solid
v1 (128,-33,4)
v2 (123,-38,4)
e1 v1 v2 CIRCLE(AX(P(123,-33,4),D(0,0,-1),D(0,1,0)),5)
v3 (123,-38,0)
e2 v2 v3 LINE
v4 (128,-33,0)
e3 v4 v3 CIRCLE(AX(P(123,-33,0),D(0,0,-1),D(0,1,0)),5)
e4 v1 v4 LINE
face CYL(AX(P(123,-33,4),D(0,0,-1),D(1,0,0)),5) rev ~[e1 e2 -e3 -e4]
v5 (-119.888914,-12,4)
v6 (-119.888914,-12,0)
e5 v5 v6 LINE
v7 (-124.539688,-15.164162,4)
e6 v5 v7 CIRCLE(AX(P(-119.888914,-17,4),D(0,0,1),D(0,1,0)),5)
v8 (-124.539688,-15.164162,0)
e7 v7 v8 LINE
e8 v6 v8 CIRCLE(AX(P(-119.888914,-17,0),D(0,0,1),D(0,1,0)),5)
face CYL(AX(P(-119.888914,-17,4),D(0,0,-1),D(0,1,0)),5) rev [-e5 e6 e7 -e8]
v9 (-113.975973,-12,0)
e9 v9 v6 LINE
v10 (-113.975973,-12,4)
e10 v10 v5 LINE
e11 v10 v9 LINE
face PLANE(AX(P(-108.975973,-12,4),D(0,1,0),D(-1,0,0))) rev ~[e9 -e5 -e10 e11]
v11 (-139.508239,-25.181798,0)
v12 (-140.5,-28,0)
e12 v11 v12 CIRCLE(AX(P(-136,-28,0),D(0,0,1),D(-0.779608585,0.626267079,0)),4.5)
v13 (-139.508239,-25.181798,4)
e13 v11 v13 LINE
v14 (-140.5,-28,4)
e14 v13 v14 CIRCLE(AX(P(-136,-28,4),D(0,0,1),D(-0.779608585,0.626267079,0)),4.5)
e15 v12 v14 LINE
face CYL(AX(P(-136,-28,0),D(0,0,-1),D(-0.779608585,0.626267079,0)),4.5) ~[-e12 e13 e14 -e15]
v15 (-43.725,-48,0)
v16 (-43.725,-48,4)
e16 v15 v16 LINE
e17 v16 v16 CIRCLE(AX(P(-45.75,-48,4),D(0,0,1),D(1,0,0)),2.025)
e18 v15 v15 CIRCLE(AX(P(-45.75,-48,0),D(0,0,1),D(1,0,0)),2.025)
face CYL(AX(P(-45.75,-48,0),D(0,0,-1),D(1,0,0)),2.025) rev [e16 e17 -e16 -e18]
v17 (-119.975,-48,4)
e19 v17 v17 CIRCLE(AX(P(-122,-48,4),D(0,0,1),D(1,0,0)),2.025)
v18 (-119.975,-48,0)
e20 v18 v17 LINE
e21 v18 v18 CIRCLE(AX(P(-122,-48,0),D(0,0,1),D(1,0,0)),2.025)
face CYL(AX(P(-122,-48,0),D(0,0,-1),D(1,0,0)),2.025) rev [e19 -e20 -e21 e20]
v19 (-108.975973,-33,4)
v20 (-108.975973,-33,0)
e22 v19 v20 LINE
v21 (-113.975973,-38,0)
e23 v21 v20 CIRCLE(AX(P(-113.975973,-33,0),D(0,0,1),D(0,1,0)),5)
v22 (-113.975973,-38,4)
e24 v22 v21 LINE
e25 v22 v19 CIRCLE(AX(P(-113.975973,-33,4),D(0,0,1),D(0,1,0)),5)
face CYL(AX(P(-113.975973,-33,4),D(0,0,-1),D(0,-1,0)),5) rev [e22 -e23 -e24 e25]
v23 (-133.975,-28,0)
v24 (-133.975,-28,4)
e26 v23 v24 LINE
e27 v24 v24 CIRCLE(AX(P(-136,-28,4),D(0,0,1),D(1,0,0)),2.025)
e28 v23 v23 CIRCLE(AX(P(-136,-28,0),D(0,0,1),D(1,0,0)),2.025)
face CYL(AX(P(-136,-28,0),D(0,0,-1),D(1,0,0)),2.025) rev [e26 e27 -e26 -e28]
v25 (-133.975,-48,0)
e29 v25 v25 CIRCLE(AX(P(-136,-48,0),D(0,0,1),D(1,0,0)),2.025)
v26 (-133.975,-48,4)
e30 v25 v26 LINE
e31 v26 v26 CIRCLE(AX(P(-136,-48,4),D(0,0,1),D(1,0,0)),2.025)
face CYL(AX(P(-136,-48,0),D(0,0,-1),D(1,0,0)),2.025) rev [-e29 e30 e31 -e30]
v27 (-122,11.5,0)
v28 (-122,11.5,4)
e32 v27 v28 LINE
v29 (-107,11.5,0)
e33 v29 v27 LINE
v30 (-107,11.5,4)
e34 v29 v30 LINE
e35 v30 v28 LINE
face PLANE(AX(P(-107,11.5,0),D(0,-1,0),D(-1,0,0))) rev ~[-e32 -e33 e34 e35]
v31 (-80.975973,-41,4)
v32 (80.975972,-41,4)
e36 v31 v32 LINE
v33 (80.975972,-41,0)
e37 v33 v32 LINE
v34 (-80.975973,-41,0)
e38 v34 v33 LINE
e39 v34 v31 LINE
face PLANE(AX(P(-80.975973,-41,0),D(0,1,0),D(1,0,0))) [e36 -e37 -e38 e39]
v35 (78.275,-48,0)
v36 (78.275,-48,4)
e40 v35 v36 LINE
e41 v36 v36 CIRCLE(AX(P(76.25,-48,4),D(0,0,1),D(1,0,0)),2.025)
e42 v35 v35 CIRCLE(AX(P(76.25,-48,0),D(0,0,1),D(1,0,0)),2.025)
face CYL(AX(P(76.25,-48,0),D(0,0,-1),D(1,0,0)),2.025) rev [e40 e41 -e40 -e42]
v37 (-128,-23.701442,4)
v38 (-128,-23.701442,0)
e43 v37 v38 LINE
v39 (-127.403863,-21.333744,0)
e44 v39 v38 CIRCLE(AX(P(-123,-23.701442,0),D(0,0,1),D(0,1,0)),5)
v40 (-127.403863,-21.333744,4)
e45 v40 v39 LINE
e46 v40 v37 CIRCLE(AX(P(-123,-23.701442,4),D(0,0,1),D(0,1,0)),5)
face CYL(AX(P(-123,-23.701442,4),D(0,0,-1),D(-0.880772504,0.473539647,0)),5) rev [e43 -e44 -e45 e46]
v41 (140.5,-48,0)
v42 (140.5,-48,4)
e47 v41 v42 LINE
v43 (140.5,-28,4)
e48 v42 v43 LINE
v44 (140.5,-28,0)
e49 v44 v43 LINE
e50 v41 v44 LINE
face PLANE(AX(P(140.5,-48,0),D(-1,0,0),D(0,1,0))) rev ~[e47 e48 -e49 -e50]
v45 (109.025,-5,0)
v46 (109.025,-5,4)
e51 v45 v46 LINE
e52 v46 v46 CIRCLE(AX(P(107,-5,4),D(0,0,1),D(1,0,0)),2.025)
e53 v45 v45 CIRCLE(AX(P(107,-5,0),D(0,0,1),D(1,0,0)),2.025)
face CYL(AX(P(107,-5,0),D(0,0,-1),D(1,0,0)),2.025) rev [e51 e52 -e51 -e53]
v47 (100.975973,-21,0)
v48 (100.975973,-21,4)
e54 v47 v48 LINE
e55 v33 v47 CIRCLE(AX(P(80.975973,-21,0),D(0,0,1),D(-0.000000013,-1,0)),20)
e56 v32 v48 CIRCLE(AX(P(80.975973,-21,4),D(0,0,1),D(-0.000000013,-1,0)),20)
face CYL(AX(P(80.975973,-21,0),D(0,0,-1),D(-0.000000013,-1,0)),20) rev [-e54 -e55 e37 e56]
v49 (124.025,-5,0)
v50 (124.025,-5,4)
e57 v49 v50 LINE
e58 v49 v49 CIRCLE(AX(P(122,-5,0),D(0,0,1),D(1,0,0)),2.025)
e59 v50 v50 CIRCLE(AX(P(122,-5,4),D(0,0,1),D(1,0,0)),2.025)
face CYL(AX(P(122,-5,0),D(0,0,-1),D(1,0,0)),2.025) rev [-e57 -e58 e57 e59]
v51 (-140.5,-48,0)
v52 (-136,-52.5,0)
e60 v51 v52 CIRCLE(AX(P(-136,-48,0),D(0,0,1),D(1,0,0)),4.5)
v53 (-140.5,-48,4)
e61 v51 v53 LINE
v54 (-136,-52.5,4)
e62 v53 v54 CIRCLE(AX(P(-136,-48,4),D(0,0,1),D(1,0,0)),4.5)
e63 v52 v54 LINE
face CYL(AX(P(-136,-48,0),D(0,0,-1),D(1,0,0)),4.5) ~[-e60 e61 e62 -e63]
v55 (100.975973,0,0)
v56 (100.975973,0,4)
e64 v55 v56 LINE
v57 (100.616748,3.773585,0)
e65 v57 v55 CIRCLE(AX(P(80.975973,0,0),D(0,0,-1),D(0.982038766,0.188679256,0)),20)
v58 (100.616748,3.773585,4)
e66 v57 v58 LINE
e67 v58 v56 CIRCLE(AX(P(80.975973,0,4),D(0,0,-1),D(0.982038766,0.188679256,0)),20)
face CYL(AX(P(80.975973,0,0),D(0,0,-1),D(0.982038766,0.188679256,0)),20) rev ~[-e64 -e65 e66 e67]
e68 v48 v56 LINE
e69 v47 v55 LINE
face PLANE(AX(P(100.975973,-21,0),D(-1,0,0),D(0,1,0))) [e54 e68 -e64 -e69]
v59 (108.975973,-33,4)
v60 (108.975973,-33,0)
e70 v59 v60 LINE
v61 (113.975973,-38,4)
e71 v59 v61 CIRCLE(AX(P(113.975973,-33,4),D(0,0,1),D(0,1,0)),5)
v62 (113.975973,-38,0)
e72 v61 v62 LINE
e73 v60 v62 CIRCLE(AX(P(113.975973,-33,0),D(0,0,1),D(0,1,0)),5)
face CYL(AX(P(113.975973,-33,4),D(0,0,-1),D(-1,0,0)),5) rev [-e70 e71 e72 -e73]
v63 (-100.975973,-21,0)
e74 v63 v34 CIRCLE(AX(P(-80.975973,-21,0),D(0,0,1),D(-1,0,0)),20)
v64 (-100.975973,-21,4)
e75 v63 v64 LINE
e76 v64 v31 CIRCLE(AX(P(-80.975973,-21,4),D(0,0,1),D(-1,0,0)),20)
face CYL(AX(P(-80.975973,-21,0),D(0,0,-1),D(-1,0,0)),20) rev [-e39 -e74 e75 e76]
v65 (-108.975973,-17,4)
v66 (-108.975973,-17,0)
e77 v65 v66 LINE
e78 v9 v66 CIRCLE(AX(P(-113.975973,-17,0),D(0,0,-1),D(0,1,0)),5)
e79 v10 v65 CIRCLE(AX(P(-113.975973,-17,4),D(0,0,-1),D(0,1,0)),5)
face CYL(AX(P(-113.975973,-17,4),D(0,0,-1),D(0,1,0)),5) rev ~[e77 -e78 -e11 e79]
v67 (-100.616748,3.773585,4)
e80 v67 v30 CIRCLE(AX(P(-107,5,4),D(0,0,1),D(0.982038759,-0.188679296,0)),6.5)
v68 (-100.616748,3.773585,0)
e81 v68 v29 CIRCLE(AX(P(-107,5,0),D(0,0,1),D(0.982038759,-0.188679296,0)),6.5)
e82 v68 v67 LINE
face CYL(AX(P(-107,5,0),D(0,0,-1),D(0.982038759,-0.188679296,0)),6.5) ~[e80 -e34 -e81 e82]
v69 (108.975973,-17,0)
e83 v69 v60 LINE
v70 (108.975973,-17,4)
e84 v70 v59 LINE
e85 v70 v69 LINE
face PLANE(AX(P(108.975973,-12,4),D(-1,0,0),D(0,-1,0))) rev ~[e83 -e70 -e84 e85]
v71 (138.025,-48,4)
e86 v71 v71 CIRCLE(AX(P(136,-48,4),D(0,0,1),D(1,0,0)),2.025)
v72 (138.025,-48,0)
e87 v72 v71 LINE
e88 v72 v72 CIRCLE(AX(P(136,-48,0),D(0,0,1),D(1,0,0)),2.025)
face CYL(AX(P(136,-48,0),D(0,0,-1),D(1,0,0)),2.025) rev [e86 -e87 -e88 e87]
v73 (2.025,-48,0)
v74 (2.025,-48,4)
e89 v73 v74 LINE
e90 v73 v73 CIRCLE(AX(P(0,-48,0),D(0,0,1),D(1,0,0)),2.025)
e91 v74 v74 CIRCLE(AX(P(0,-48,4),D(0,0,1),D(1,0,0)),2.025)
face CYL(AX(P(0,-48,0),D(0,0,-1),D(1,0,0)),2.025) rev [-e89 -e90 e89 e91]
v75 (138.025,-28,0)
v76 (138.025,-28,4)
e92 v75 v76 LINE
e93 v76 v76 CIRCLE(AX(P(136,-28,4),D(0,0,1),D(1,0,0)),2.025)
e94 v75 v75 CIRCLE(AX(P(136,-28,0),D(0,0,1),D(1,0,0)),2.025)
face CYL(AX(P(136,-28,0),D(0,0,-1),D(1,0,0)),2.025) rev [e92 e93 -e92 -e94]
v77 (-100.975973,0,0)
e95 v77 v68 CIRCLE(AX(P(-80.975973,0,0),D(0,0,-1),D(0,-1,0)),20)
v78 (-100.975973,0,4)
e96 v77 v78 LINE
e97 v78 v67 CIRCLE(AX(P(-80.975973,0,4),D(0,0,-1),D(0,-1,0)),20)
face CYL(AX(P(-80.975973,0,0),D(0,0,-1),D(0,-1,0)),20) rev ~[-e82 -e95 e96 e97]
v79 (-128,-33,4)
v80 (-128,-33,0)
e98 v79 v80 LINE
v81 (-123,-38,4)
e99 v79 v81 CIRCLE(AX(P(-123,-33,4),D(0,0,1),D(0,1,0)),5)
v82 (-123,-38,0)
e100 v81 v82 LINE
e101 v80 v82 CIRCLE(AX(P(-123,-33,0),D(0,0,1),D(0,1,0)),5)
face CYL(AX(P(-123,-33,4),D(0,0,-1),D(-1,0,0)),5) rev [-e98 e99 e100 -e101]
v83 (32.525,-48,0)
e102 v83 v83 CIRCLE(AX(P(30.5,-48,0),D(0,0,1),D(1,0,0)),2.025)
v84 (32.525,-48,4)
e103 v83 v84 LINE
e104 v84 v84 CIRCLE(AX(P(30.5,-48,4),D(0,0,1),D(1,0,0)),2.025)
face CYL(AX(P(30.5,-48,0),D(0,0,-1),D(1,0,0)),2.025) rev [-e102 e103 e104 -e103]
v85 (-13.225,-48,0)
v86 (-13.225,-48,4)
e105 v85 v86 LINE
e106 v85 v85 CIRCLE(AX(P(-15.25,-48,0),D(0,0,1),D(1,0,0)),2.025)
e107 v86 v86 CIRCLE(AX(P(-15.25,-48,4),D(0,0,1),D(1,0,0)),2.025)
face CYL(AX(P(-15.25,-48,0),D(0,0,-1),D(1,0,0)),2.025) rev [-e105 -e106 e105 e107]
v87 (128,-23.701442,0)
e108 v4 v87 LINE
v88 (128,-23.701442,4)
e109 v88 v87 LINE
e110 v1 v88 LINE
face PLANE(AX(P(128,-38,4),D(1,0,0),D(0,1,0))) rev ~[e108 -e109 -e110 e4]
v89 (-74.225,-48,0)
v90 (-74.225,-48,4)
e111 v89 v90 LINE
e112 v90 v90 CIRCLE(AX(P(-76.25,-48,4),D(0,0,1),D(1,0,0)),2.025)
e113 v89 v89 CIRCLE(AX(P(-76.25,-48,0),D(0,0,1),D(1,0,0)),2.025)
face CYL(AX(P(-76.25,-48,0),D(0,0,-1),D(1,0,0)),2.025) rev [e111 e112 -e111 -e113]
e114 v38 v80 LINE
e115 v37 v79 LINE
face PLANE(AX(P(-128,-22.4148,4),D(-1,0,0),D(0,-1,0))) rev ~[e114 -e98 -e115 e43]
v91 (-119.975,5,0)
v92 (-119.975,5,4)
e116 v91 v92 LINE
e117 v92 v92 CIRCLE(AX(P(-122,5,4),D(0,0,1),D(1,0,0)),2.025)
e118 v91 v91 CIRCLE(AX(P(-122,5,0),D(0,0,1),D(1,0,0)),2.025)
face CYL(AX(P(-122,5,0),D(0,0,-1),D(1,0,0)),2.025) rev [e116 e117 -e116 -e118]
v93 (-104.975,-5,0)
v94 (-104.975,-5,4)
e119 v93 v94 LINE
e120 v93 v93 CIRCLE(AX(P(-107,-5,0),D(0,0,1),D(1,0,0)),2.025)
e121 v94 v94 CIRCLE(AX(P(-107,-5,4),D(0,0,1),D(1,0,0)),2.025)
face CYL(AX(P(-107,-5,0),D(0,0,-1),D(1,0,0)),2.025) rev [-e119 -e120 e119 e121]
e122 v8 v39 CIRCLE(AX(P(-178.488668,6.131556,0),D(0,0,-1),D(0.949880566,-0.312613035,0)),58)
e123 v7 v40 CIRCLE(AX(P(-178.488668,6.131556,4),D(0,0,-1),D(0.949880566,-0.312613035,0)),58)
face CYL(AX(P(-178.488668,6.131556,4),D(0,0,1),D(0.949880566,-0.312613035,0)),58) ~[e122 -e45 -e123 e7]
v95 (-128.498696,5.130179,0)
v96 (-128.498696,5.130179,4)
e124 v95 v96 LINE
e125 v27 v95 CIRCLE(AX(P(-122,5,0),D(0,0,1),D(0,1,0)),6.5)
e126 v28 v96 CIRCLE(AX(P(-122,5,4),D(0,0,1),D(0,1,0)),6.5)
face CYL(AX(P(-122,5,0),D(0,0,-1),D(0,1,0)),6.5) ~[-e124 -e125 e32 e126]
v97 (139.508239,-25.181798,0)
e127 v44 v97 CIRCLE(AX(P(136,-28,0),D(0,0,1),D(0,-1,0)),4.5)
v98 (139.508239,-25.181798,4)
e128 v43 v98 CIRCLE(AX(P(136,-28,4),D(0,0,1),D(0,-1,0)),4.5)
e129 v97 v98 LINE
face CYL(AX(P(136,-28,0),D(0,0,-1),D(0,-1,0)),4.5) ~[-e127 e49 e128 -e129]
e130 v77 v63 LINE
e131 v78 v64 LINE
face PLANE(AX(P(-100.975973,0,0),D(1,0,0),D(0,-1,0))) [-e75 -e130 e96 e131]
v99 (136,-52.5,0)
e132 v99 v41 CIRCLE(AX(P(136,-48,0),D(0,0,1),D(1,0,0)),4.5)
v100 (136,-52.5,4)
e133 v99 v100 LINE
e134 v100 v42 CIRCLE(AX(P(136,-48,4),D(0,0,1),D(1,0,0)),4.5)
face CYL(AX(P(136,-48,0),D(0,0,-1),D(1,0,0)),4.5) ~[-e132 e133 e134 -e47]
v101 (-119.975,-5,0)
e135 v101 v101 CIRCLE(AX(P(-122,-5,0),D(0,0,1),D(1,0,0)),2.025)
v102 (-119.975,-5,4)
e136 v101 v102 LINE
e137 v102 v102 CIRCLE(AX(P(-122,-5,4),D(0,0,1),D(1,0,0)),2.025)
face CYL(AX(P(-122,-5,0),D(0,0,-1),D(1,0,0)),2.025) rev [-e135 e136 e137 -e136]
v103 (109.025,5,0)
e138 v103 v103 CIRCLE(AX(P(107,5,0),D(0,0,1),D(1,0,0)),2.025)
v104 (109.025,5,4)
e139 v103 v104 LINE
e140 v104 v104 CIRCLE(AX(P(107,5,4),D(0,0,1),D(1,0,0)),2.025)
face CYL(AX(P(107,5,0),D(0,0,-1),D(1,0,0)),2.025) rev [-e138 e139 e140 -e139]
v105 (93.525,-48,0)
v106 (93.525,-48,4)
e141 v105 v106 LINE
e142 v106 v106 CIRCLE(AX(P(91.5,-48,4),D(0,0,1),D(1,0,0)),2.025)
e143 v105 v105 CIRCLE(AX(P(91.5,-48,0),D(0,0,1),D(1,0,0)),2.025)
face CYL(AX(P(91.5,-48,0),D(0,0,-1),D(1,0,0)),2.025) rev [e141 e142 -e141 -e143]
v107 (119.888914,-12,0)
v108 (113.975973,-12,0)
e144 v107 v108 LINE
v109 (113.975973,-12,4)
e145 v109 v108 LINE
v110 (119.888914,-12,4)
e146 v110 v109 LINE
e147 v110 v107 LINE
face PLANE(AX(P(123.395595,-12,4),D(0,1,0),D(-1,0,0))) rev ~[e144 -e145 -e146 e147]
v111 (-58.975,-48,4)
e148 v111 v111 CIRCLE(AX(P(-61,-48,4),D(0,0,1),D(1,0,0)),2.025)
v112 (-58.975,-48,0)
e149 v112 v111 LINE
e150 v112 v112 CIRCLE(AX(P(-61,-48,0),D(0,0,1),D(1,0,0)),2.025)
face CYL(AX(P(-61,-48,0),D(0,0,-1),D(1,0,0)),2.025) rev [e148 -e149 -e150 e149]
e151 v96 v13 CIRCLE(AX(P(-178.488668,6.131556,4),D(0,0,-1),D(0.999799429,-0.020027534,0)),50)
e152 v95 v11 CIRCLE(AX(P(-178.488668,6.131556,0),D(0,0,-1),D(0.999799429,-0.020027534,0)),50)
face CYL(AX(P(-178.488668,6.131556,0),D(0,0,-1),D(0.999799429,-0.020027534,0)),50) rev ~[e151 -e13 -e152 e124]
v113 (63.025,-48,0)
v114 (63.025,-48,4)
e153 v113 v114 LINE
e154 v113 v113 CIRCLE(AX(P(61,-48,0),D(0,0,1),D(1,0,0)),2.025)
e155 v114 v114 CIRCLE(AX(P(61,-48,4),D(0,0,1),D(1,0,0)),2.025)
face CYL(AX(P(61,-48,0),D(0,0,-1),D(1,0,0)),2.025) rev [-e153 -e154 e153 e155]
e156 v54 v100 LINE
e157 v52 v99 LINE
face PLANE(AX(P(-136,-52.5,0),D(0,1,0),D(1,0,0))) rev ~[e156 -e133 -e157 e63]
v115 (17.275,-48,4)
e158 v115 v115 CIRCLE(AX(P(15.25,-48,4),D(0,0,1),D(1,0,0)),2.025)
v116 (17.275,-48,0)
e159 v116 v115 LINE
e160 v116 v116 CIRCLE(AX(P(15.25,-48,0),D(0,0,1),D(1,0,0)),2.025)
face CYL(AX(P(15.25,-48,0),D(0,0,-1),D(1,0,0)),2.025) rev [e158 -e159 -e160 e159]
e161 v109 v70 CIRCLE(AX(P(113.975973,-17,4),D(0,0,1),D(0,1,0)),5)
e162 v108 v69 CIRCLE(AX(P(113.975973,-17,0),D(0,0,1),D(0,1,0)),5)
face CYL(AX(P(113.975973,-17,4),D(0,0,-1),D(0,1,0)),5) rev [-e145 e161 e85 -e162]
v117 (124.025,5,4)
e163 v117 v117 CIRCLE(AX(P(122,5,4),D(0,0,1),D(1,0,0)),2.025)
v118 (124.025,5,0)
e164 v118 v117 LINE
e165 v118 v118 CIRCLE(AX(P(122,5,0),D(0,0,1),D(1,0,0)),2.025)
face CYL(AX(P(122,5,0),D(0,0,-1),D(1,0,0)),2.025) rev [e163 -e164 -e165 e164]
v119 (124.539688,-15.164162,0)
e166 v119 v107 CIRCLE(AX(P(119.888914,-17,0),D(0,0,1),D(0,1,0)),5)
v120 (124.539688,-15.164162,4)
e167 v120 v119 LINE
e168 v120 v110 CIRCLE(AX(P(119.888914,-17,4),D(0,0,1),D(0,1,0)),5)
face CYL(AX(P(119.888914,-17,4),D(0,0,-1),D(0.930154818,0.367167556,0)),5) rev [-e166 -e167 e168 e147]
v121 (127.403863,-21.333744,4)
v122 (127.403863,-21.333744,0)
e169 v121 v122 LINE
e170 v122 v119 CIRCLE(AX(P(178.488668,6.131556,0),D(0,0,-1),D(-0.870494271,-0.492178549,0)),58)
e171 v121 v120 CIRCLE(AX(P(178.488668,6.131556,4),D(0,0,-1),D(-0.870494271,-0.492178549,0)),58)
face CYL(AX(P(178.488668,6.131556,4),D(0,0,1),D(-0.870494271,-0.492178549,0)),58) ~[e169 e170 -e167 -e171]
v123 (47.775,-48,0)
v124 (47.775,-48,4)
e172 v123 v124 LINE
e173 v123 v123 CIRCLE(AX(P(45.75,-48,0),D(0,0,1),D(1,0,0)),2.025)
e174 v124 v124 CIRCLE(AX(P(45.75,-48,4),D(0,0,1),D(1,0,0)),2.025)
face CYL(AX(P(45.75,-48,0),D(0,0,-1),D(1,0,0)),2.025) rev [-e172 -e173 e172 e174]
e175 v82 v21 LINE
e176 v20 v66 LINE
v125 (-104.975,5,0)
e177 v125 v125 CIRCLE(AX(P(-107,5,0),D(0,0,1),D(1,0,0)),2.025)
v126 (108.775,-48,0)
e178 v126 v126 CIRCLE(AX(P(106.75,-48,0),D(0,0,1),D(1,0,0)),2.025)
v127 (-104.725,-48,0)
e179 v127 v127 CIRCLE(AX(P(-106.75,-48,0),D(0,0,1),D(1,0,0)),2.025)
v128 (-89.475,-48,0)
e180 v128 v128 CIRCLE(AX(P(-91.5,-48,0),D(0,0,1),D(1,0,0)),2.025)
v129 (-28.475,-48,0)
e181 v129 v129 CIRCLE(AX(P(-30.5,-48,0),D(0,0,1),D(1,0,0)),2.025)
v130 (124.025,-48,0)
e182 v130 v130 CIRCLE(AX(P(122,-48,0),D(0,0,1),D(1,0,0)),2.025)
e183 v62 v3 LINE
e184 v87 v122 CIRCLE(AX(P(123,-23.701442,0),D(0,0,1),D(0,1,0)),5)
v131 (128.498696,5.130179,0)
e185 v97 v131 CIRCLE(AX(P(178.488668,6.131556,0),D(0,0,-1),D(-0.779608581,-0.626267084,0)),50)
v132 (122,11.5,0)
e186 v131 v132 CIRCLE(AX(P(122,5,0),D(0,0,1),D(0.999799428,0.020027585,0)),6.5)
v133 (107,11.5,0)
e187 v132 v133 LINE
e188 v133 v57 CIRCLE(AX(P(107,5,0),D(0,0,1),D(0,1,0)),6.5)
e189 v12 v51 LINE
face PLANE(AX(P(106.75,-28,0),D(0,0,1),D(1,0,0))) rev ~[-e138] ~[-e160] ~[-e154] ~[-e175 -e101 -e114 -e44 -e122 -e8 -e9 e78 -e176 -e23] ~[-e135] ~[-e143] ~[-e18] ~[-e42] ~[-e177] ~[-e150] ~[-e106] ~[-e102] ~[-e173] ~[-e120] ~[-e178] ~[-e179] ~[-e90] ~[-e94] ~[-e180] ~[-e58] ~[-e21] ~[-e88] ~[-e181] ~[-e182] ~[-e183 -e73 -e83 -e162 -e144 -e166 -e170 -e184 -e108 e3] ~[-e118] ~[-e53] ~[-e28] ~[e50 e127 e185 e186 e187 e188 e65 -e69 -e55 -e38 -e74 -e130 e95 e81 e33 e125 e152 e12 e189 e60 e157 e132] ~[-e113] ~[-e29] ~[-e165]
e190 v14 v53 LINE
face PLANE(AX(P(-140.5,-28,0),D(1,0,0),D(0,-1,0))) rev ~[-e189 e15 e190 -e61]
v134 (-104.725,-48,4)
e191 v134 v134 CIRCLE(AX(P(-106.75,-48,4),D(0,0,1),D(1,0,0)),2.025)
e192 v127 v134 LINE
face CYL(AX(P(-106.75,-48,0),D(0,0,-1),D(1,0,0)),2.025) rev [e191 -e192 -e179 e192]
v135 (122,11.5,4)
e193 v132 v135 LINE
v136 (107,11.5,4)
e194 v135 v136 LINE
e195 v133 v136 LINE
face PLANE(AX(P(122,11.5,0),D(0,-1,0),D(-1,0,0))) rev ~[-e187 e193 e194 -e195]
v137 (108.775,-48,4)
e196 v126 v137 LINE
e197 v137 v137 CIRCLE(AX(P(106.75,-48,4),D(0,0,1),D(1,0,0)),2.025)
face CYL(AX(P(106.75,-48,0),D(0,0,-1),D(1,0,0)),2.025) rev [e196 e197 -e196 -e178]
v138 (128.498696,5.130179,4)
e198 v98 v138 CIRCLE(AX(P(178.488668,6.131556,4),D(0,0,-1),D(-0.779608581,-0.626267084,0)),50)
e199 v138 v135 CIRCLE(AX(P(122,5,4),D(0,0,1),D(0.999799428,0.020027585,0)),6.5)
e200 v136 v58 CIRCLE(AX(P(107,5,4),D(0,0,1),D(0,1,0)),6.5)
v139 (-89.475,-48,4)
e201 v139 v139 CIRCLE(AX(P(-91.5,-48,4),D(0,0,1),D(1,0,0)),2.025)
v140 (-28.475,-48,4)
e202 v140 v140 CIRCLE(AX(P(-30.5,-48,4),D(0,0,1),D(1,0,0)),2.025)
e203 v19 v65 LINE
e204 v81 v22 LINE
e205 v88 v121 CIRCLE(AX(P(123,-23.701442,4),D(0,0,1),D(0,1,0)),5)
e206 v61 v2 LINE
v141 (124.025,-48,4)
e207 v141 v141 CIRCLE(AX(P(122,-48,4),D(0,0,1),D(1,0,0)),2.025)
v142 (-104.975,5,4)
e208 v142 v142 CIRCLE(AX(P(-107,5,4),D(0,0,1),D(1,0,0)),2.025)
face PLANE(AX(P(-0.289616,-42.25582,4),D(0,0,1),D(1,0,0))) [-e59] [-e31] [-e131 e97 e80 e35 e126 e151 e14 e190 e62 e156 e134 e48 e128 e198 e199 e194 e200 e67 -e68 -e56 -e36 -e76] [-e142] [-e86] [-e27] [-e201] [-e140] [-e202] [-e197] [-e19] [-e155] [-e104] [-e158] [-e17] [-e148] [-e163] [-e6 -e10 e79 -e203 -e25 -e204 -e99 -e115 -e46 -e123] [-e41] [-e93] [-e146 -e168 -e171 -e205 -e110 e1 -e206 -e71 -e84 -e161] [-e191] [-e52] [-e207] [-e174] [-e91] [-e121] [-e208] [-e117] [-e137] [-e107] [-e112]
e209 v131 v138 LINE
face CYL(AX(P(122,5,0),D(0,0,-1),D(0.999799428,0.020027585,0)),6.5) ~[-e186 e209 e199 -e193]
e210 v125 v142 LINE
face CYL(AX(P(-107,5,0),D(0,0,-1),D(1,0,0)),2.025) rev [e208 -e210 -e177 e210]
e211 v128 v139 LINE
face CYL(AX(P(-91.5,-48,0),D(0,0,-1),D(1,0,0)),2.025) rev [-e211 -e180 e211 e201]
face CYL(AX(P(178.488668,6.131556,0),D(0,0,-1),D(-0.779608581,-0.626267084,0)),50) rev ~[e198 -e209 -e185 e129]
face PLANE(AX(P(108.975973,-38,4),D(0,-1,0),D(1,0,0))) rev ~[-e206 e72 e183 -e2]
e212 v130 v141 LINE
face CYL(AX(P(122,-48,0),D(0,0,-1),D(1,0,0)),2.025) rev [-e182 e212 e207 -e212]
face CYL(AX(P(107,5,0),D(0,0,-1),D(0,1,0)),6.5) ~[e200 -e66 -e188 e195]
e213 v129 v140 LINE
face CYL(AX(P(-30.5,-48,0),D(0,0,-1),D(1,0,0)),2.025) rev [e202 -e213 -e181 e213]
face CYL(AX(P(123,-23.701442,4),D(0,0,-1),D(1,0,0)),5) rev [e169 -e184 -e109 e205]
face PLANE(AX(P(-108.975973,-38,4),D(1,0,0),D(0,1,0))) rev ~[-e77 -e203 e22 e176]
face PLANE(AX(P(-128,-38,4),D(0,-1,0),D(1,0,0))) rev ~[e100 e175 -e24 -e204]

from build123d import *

# Parameters (mm, degrees)
SKETCH_1_R          = 2.025
EXTRUDE_1_DEPTH     = 4
EXTRUDE_START       = -4
SKETCH_3_R          = 2.025
SKETCH_3_R_2        = 4.5
EXTRUDE_2_DEPTH     = 4
CUT_EXTRUDE_START   = -4
CUT_EXTRUDE_1_DEPTH = 4
SKETCH_5_R          = 2.025
EXTRUDE_3_DEPTH     = 4
CUT_EXTRUDE_2_DEPTH = 4
FILLET_1_R          = 5


with BuildPart() as part:
    # 草图1 → 凸台-拉伸1 (new body)
    with BuildSketch(Plane.XY):
        with BuildLine():
            Line((-136, -32.5), (136, -32.5))
            ThreePointArc((136, -32.5), (140.057826276, -29.945262427), (139.508238663, -25.181798182))
            ThreePointArc((139.508238663, -25.181798182), (131.492529199, -10.937801452), (128.498696281, 5.130179301))
            ThreePointArc((128.498696281, 5.130179301), (126.549935963, 9.641991246), (122, 11.5))
            Line((122, 11.5), (107, 11.5))
            ThreePointArc((107, 11.5), (101.988927424, 9.13994585), (100.616747965, 3.773585121))
            ThreePointArc((100.616747965, 3.773585121), (96.394657773, -12.73829458), (80.975972641, -20))
            Line((80.975972641, -20), (-80.975972641, -20))
            ThreePointArc((-80.975972641, -20), (-96.394657597, -12.738294792), (-100.616748069, 3.773584578))
            ThreePointArc((-100.616748069, 3.773584578), (-101.988927248, 9.139945637), (-107, 11.5))
            Line((-107, 11.5), (-122, 11.5))
            ThreePointArc((-122, 11.5), (-126.549935963, 9.641991246), (-128.498696281, 5.130179301))
            ThreePointArc((-128.498696281, 5.130179301), (-131.492529192, -10.937801431), (-139.508238634, -25.181798147))
            ThreePointArc((-139.508238634, -25.181798147), (-140.057826286, -29.945262407), (-136, -32.5))
        make_face()
        with Locations((-122, -28)):
            Circle(SKETCH_1_R, mode=Mode.SUBTRACT)
        with Locations((122, -5)):
            Circle(SKETCH_1_R, mode=Mode.SUBTRACT)
        with Locations((107, -5)):
            Circle(SKETCH_1_R, mode=Mode.SUBTRACT)
        with Locations((-106.75, -28)):
            Circle(SKETCH_1_R, mode=Mode.SUBTRACT)
        with Locations((-91.5, -28)):
            Circle(SKETCH_1_R, mode=Mode.SUBTRACT)
        with Locations((-76.25, -28)):
            Circle(SKETCH_1_R, mode=Mode.SUBTRACT)
        with Locations((-61, -28)):
            Circle(SKETCH_1_R, mode=Mode.SUBTRACT)
        with Locations((-45.75, -28)):
            Circle(SKETCH_1_R, mode=Mode.SUBTRACT)
        with Locations((-30.5, -28)):
            Circle(SKETCH_1_R, mode=Mode.SUBTRACT)
        with Locations((-15.25, -28)):
            Circle(SKETCH_1_R, mode=Mode.SUBTRACT)
        with Locations((0, -28)):
            Circle(SKETCH_1_R, mode=Mode.SUBTRACT)
        with Locations((15.25, -28)):
            Circle(SKETCH_1_R, mode=Mode.SUBTRACT)
        with Locations((30.5, -28)):
            Circle(SKETCH_1_R, mode=Mode.SUBTRACT)
        with Locations((45.75, -28)):
            Circle(SKETCH_1_R, mode=Mode.SUBTRACT)
        with Locations((61, -28)):
            Circle(SKETCH_1_R, mode=Mode.SUBTRACT)
        with Locations((76.25, -28)):
            Circle(SKETCH_1_R, mode=Mode.SUBTRACT)
        with Locations((91.5, -28)):
            Circle(SKETCH_1_R, mode=Mode.SUBTRACT)
        with Locations((106.75, -28)):
            Circle(SKETCH_1_R, mode=Mode.SUBTRACT)
        with Locations((-122, -5)):
            Circle(SKETCH_1_R, mode=Mode.SUBTRACT)
        with Locations((-107, -5)):
            Circle(SKETCH_1_R, mode=Mode.SUBTRACT)
        with Locations((122, -28)):
            Circle(SKETCH_1_R, mode=Mode.SUBTRACT)
        with Locations((-136, -28)):
            Circle(SKETCH_1_R, mode=Mode.SUBTRACT)
        with Locations((-122, 5)):
            Circle(SKETCH_1_R, mode=Mode.SUBTRACT)
        with Locations((136, -28)):
            Circle(SKETCH_1_R, mode=Mode.SUBTRACT)
        with Locations((-107, 5)):
            Circle(SKETCH_1_R, mode=Mode.SUBTRACT)
        with Locations((122, 5)):
            Circle(SKETCH_1_R, mode=Mode.SUBTRACT)
        with Locations((107, 5)):
            Circle(SKETCH_1_R, mode=Mode.SUBTRACT)
    extrude(amount=EXTRUDE_1_DEPTH)

    # 草图3 → 凸台-拉伸2 (add)
    # profile 1 of 3: a face of its own
    with BuildSketch(Plane.XY.offset(4).offset(EXTRUDE_START)):
        with BuildLine():
            Line((140.5, -48), (140.5, -28))
            ThreePointArc((140.5, -28), (139.181980515, -31.181980515), (136, -32.5))
            Line((136, -32.5), (-136, -32.5))
            ThreePointArc((-136, -32.5), (-139.181980515, -31.181980515), (-140.5, -28))
            Line((-140.5, -28), (-140.5, -48))
            ThreePointArc((-140.5, -48), (-136, -43.5), (-131.5, -48))
            ThreePointArc((-131.5, -48), (-132.818019485, -51.181980515), (-136, -52.5))
            Line((-136, -52.5), (136, -52.5))
            ThreePointArc((136, -52.5), (132.818019485, -44.818019485), (140.5, -48))
        make_face()
        with Locations((-122, -48)):
            Circle(SKETCH_3_R, mode=Mode.SUBTRACT)
        with Locations((-106.75, -48)):
            Circle(SKETCH_3_R, mode=Mode.SUBTRACT)
        with Locations((-91.5, -48)):
            Circle(SKETCH_3_R, mode=Mode.SUBTRACT)
        with Locations((-76.25, -48)):
            Circle(SKETCH_3_R, mode=Mode.SUBTRACT)
        with Locations((-61, -48)):
            Circle(SKETCH_3_R, mode=Mode.SUBTRACT)
        with Locations((-45.75, -48)):
            Circle(SKETCH_3_R, mode=Mode.SUBTRACT)
        with Locations((-30.5, -48)):
            Circle(SKETCH_3_R, mode=Mode.SUBTRACT)
        with Locations((-15.25, -48)):
            Circle(SKETCH_3_R, mode=Mode.SUBTRACT)
        with Locations((0, -48)):
            Circle(SKETCH_3_R, mode=Mode.SUBTRACT)
        with Locations((15.25, -48)):
            Circle(SKETCH_3_R, mode=Mode.SUBTRACT)
        with Locations((30.5, -48)):
            Circle(SKETCH_3_R, mode=Mode.SUBTRACT)
        with Locations((45.75, -48)):
            Circle(SKETCH_3_R, mode=Mode.SUBTRACT)
        with Locations((61, -48)):
            Circle(SKETCH_3_R, mode=Mode.SUBTRACT)
        with Locations((76.25, -48)):
            Circle(SKETCH_3_R, mode=Mode.SUBTRACT)
        with Locations((91.5, -48)):
            Circle(SKETCH_3_R, mode=Mode.SUBTRACT)
        with Locations((106.75, -48)):
            Circle(SKETCH_3_R, mode=Mode.SUBTRACT)
        with Locations((122, -48)):
            Circle(SKETCH_3_R, mode=Mode.SUBTRACT)
    # profile 2 of 3: a face of its own
    with BuildSketch(Plane.XY.offset(4).offset(EXTRUDE_START)):
        with Locations((-136, -48)):
            Circle(SKETCH_3_R_2)
        with Locations((-136, -48)):
            Circle(SKETCH_3_R, mode=Mode.SUBTRACT)
    # profile 3 of 3: a face of its own
    with BuildSketch(Plane.XY.offset(4).offset(EXTRUDE_START)):
        with Locations((136, -48)):
            Circle(SKETCH_3_R_2)
        with Locations((136, -48)):
            Circle(SKETCH_3_R, mode=Mode.SUBTRACT)
    extrude(amount=EXTRUDE_2_DEPTH)

    # 草图4 → 切除-拉伸1 (cut)
    with BuildSketch(Plane.XY.offset(4).offset(CUT_EXTRUDE_START)):
        with BuildLine():
            ThreePointArc((61.000988285, -20), (66.484595805, -34.784048658), (80.975972382, -41))
            ThreePointArc((80.975972382, -41), (95.118108173, -35.142135715), (100.975972641, -21))
            ThreePointArc((100.975972641, -21), (100.217086052, -15.542935341), (97.998017171, -10.5))
            ThreePointArc((97.998017171, -10.5), (90.722766985, -17.464249197), (80.975972641, -20))
            Line((80.975972641, -20), (61.000988285, -20))
        make_face()
        with BuildLine():
            ThreePointArc((97.998017171, -10.5), (76.001792969, -1.628434844), (61.000988285, -20))
            Line((61.000988285, -20), (80.975972641, -20))
            ThreePointArc((80.975972641, -20), (90.722766985, -17.464249197), (97.998017171, -10.5))
        make_face()
        with BuildLine():
            ThreePointArc((-60.975972641, -21), (-66.833837017, -35.142135624), (-80.975972641, -41))
            Line((-80.975972641, -41), (80.975972382, -41))
            ThreePointArc((80.975972382, -41), (66.484595805, -34.784048658), (61.000988285, -20))
            Line((61.000988285, -20), (-61.000988285, -20))
            ThreePointArc((-61.000988285, -20), (-60.98222753, -20.499843579), (-60.975972641, -21))
        make_face()
        with BuildLine():
            ThreePointArc((-97.998017171, -10.5), (-100.217086052, -15.542935341), (-100.975972641, -21))
            ThreePointArc((-100.975972641, -21), (-95.118108264, -35.142135624), (-80.975972641, -41))
            ThreePointArc((-80.975972641, -41), (-66.833837017, -35.142135624), (-60.975972641, -21))
            ThreePointArc((-60.975972641, -21), (-60.98222753, -20.499843579), (-61.000988285, -20))
            Line((-61.000988285, -20), (-80.975972641, -20))
            ThreePointArc((-80.975972641, -20), (-90.722766985, -17.464249197), (-97.998017171, -10.5))
        make_face()
        with BuildLine():
            ThreePointArc((-61.000988285, -20), (-76.001792969, -1.628434844), (-97.998017171, -10.5))
            ThreePointArc((-97.998017171, -10.5), (-90.722766985, -17.464249197), (-80.975972641, -20))
            Line((-80.975972641, -20), (-61.000988285, -20))
        make_face()
        with BuildLine():
            ThreePointArc((-97.998017171, -10.5), (-100.217086052, -5.457064659), (-100.975972641, 0))
            Line((-100.975972641, 0), (-100.975972641, -21))
            ThreePointArc((-100.975972641, -21), (-100.217086052, -15.542935341), (-97.998017171, -10.5))
        make_face()
        with BuildLine():
            ThreePointArc((97.998017171, -10.5), (100.217086052, -15.542935341), (100.975972641, -21))
            Line((100.975972641, -21), (100.975972641, 0))
            ThreePointArc((100.975972641, 0), (100.217086052, -5.457064659), (97.998017171, -10.5))
        make_face()
    extrude(amount=CUT_EXTRUDE_1_DEPTH, mode=Mode.SUBTRACT)

    # 草图5 → 凸台-拉伸3 (add)
    with BuildSketch(Plane.XY.offset(4).offset(EXTRUDE_START)):
        with Locations((106.75, -28)):
            Circle(SKETCH_5_R)
        with Locations((122, -28)):
            Circle(SKETCH_5_R)
        with Locations((-122, -28)):
            Circle(SKETCH_5_R)
        with Locations((-106.75, -28)):
            Circle(SKETCH_5_R)
    extrude(amount=EXTRUDE_3_DEPTH)

    # 草图6 → 切除-拉伸2 (cut)
    with BuildSketch(Plane.XY.offset(4)):
        with BuildLine():
            Line((-108.975972641, -12), (-123.395594864, -12))
            ThreePointArc((-123.395594864, -12), (-125.441584863, -17.320672039), (-128, -22.414799835))
            Line((-128, -22.414799835), (-128, -38))
            Line((-128, -38), (-108.975972641, -38))
            Line((-108.975972641, -38), (-108.975972641, -12))
        make_face()
        with BuildLine():
            Line((128, -38), (128, -22.414799835))
            ThreePointArc((128, -22.414799835), (125.441584863, -17.320672039), (123.395594864, -12))
            Line((123.395594864, -12), (108.975972641, -12))
            Line((108.975972641, -12), (108.975972641, -38))
            Line((108.975972641, -38), (128, -38))
        make_face()
    extrude(amount=-CUT_EXTRUDE_2_DEPTH, mode=Mode.SUBTRACT)

    # 圆角1
    fillet_1_edges = [part.edges().sort_by_distance(p)[0] for p in [
        (-108.975972641, -12, 2),
        (-108.975972641, -38, 2),
        (-128, -38, 2),
        (-128, -22.414799835, 2),
        (-123.395594864, -12, 2),
        (123.395594864, -12, 2),
        (128, -22.414799835, 2),
        (128, -38, 2),
        (108.975972641, -38, 2),
        (108.975972641, -12, 2),
    ]]
    fillet(fillet_1_edges, radius=FILLET_1_R)


solid = part.part
